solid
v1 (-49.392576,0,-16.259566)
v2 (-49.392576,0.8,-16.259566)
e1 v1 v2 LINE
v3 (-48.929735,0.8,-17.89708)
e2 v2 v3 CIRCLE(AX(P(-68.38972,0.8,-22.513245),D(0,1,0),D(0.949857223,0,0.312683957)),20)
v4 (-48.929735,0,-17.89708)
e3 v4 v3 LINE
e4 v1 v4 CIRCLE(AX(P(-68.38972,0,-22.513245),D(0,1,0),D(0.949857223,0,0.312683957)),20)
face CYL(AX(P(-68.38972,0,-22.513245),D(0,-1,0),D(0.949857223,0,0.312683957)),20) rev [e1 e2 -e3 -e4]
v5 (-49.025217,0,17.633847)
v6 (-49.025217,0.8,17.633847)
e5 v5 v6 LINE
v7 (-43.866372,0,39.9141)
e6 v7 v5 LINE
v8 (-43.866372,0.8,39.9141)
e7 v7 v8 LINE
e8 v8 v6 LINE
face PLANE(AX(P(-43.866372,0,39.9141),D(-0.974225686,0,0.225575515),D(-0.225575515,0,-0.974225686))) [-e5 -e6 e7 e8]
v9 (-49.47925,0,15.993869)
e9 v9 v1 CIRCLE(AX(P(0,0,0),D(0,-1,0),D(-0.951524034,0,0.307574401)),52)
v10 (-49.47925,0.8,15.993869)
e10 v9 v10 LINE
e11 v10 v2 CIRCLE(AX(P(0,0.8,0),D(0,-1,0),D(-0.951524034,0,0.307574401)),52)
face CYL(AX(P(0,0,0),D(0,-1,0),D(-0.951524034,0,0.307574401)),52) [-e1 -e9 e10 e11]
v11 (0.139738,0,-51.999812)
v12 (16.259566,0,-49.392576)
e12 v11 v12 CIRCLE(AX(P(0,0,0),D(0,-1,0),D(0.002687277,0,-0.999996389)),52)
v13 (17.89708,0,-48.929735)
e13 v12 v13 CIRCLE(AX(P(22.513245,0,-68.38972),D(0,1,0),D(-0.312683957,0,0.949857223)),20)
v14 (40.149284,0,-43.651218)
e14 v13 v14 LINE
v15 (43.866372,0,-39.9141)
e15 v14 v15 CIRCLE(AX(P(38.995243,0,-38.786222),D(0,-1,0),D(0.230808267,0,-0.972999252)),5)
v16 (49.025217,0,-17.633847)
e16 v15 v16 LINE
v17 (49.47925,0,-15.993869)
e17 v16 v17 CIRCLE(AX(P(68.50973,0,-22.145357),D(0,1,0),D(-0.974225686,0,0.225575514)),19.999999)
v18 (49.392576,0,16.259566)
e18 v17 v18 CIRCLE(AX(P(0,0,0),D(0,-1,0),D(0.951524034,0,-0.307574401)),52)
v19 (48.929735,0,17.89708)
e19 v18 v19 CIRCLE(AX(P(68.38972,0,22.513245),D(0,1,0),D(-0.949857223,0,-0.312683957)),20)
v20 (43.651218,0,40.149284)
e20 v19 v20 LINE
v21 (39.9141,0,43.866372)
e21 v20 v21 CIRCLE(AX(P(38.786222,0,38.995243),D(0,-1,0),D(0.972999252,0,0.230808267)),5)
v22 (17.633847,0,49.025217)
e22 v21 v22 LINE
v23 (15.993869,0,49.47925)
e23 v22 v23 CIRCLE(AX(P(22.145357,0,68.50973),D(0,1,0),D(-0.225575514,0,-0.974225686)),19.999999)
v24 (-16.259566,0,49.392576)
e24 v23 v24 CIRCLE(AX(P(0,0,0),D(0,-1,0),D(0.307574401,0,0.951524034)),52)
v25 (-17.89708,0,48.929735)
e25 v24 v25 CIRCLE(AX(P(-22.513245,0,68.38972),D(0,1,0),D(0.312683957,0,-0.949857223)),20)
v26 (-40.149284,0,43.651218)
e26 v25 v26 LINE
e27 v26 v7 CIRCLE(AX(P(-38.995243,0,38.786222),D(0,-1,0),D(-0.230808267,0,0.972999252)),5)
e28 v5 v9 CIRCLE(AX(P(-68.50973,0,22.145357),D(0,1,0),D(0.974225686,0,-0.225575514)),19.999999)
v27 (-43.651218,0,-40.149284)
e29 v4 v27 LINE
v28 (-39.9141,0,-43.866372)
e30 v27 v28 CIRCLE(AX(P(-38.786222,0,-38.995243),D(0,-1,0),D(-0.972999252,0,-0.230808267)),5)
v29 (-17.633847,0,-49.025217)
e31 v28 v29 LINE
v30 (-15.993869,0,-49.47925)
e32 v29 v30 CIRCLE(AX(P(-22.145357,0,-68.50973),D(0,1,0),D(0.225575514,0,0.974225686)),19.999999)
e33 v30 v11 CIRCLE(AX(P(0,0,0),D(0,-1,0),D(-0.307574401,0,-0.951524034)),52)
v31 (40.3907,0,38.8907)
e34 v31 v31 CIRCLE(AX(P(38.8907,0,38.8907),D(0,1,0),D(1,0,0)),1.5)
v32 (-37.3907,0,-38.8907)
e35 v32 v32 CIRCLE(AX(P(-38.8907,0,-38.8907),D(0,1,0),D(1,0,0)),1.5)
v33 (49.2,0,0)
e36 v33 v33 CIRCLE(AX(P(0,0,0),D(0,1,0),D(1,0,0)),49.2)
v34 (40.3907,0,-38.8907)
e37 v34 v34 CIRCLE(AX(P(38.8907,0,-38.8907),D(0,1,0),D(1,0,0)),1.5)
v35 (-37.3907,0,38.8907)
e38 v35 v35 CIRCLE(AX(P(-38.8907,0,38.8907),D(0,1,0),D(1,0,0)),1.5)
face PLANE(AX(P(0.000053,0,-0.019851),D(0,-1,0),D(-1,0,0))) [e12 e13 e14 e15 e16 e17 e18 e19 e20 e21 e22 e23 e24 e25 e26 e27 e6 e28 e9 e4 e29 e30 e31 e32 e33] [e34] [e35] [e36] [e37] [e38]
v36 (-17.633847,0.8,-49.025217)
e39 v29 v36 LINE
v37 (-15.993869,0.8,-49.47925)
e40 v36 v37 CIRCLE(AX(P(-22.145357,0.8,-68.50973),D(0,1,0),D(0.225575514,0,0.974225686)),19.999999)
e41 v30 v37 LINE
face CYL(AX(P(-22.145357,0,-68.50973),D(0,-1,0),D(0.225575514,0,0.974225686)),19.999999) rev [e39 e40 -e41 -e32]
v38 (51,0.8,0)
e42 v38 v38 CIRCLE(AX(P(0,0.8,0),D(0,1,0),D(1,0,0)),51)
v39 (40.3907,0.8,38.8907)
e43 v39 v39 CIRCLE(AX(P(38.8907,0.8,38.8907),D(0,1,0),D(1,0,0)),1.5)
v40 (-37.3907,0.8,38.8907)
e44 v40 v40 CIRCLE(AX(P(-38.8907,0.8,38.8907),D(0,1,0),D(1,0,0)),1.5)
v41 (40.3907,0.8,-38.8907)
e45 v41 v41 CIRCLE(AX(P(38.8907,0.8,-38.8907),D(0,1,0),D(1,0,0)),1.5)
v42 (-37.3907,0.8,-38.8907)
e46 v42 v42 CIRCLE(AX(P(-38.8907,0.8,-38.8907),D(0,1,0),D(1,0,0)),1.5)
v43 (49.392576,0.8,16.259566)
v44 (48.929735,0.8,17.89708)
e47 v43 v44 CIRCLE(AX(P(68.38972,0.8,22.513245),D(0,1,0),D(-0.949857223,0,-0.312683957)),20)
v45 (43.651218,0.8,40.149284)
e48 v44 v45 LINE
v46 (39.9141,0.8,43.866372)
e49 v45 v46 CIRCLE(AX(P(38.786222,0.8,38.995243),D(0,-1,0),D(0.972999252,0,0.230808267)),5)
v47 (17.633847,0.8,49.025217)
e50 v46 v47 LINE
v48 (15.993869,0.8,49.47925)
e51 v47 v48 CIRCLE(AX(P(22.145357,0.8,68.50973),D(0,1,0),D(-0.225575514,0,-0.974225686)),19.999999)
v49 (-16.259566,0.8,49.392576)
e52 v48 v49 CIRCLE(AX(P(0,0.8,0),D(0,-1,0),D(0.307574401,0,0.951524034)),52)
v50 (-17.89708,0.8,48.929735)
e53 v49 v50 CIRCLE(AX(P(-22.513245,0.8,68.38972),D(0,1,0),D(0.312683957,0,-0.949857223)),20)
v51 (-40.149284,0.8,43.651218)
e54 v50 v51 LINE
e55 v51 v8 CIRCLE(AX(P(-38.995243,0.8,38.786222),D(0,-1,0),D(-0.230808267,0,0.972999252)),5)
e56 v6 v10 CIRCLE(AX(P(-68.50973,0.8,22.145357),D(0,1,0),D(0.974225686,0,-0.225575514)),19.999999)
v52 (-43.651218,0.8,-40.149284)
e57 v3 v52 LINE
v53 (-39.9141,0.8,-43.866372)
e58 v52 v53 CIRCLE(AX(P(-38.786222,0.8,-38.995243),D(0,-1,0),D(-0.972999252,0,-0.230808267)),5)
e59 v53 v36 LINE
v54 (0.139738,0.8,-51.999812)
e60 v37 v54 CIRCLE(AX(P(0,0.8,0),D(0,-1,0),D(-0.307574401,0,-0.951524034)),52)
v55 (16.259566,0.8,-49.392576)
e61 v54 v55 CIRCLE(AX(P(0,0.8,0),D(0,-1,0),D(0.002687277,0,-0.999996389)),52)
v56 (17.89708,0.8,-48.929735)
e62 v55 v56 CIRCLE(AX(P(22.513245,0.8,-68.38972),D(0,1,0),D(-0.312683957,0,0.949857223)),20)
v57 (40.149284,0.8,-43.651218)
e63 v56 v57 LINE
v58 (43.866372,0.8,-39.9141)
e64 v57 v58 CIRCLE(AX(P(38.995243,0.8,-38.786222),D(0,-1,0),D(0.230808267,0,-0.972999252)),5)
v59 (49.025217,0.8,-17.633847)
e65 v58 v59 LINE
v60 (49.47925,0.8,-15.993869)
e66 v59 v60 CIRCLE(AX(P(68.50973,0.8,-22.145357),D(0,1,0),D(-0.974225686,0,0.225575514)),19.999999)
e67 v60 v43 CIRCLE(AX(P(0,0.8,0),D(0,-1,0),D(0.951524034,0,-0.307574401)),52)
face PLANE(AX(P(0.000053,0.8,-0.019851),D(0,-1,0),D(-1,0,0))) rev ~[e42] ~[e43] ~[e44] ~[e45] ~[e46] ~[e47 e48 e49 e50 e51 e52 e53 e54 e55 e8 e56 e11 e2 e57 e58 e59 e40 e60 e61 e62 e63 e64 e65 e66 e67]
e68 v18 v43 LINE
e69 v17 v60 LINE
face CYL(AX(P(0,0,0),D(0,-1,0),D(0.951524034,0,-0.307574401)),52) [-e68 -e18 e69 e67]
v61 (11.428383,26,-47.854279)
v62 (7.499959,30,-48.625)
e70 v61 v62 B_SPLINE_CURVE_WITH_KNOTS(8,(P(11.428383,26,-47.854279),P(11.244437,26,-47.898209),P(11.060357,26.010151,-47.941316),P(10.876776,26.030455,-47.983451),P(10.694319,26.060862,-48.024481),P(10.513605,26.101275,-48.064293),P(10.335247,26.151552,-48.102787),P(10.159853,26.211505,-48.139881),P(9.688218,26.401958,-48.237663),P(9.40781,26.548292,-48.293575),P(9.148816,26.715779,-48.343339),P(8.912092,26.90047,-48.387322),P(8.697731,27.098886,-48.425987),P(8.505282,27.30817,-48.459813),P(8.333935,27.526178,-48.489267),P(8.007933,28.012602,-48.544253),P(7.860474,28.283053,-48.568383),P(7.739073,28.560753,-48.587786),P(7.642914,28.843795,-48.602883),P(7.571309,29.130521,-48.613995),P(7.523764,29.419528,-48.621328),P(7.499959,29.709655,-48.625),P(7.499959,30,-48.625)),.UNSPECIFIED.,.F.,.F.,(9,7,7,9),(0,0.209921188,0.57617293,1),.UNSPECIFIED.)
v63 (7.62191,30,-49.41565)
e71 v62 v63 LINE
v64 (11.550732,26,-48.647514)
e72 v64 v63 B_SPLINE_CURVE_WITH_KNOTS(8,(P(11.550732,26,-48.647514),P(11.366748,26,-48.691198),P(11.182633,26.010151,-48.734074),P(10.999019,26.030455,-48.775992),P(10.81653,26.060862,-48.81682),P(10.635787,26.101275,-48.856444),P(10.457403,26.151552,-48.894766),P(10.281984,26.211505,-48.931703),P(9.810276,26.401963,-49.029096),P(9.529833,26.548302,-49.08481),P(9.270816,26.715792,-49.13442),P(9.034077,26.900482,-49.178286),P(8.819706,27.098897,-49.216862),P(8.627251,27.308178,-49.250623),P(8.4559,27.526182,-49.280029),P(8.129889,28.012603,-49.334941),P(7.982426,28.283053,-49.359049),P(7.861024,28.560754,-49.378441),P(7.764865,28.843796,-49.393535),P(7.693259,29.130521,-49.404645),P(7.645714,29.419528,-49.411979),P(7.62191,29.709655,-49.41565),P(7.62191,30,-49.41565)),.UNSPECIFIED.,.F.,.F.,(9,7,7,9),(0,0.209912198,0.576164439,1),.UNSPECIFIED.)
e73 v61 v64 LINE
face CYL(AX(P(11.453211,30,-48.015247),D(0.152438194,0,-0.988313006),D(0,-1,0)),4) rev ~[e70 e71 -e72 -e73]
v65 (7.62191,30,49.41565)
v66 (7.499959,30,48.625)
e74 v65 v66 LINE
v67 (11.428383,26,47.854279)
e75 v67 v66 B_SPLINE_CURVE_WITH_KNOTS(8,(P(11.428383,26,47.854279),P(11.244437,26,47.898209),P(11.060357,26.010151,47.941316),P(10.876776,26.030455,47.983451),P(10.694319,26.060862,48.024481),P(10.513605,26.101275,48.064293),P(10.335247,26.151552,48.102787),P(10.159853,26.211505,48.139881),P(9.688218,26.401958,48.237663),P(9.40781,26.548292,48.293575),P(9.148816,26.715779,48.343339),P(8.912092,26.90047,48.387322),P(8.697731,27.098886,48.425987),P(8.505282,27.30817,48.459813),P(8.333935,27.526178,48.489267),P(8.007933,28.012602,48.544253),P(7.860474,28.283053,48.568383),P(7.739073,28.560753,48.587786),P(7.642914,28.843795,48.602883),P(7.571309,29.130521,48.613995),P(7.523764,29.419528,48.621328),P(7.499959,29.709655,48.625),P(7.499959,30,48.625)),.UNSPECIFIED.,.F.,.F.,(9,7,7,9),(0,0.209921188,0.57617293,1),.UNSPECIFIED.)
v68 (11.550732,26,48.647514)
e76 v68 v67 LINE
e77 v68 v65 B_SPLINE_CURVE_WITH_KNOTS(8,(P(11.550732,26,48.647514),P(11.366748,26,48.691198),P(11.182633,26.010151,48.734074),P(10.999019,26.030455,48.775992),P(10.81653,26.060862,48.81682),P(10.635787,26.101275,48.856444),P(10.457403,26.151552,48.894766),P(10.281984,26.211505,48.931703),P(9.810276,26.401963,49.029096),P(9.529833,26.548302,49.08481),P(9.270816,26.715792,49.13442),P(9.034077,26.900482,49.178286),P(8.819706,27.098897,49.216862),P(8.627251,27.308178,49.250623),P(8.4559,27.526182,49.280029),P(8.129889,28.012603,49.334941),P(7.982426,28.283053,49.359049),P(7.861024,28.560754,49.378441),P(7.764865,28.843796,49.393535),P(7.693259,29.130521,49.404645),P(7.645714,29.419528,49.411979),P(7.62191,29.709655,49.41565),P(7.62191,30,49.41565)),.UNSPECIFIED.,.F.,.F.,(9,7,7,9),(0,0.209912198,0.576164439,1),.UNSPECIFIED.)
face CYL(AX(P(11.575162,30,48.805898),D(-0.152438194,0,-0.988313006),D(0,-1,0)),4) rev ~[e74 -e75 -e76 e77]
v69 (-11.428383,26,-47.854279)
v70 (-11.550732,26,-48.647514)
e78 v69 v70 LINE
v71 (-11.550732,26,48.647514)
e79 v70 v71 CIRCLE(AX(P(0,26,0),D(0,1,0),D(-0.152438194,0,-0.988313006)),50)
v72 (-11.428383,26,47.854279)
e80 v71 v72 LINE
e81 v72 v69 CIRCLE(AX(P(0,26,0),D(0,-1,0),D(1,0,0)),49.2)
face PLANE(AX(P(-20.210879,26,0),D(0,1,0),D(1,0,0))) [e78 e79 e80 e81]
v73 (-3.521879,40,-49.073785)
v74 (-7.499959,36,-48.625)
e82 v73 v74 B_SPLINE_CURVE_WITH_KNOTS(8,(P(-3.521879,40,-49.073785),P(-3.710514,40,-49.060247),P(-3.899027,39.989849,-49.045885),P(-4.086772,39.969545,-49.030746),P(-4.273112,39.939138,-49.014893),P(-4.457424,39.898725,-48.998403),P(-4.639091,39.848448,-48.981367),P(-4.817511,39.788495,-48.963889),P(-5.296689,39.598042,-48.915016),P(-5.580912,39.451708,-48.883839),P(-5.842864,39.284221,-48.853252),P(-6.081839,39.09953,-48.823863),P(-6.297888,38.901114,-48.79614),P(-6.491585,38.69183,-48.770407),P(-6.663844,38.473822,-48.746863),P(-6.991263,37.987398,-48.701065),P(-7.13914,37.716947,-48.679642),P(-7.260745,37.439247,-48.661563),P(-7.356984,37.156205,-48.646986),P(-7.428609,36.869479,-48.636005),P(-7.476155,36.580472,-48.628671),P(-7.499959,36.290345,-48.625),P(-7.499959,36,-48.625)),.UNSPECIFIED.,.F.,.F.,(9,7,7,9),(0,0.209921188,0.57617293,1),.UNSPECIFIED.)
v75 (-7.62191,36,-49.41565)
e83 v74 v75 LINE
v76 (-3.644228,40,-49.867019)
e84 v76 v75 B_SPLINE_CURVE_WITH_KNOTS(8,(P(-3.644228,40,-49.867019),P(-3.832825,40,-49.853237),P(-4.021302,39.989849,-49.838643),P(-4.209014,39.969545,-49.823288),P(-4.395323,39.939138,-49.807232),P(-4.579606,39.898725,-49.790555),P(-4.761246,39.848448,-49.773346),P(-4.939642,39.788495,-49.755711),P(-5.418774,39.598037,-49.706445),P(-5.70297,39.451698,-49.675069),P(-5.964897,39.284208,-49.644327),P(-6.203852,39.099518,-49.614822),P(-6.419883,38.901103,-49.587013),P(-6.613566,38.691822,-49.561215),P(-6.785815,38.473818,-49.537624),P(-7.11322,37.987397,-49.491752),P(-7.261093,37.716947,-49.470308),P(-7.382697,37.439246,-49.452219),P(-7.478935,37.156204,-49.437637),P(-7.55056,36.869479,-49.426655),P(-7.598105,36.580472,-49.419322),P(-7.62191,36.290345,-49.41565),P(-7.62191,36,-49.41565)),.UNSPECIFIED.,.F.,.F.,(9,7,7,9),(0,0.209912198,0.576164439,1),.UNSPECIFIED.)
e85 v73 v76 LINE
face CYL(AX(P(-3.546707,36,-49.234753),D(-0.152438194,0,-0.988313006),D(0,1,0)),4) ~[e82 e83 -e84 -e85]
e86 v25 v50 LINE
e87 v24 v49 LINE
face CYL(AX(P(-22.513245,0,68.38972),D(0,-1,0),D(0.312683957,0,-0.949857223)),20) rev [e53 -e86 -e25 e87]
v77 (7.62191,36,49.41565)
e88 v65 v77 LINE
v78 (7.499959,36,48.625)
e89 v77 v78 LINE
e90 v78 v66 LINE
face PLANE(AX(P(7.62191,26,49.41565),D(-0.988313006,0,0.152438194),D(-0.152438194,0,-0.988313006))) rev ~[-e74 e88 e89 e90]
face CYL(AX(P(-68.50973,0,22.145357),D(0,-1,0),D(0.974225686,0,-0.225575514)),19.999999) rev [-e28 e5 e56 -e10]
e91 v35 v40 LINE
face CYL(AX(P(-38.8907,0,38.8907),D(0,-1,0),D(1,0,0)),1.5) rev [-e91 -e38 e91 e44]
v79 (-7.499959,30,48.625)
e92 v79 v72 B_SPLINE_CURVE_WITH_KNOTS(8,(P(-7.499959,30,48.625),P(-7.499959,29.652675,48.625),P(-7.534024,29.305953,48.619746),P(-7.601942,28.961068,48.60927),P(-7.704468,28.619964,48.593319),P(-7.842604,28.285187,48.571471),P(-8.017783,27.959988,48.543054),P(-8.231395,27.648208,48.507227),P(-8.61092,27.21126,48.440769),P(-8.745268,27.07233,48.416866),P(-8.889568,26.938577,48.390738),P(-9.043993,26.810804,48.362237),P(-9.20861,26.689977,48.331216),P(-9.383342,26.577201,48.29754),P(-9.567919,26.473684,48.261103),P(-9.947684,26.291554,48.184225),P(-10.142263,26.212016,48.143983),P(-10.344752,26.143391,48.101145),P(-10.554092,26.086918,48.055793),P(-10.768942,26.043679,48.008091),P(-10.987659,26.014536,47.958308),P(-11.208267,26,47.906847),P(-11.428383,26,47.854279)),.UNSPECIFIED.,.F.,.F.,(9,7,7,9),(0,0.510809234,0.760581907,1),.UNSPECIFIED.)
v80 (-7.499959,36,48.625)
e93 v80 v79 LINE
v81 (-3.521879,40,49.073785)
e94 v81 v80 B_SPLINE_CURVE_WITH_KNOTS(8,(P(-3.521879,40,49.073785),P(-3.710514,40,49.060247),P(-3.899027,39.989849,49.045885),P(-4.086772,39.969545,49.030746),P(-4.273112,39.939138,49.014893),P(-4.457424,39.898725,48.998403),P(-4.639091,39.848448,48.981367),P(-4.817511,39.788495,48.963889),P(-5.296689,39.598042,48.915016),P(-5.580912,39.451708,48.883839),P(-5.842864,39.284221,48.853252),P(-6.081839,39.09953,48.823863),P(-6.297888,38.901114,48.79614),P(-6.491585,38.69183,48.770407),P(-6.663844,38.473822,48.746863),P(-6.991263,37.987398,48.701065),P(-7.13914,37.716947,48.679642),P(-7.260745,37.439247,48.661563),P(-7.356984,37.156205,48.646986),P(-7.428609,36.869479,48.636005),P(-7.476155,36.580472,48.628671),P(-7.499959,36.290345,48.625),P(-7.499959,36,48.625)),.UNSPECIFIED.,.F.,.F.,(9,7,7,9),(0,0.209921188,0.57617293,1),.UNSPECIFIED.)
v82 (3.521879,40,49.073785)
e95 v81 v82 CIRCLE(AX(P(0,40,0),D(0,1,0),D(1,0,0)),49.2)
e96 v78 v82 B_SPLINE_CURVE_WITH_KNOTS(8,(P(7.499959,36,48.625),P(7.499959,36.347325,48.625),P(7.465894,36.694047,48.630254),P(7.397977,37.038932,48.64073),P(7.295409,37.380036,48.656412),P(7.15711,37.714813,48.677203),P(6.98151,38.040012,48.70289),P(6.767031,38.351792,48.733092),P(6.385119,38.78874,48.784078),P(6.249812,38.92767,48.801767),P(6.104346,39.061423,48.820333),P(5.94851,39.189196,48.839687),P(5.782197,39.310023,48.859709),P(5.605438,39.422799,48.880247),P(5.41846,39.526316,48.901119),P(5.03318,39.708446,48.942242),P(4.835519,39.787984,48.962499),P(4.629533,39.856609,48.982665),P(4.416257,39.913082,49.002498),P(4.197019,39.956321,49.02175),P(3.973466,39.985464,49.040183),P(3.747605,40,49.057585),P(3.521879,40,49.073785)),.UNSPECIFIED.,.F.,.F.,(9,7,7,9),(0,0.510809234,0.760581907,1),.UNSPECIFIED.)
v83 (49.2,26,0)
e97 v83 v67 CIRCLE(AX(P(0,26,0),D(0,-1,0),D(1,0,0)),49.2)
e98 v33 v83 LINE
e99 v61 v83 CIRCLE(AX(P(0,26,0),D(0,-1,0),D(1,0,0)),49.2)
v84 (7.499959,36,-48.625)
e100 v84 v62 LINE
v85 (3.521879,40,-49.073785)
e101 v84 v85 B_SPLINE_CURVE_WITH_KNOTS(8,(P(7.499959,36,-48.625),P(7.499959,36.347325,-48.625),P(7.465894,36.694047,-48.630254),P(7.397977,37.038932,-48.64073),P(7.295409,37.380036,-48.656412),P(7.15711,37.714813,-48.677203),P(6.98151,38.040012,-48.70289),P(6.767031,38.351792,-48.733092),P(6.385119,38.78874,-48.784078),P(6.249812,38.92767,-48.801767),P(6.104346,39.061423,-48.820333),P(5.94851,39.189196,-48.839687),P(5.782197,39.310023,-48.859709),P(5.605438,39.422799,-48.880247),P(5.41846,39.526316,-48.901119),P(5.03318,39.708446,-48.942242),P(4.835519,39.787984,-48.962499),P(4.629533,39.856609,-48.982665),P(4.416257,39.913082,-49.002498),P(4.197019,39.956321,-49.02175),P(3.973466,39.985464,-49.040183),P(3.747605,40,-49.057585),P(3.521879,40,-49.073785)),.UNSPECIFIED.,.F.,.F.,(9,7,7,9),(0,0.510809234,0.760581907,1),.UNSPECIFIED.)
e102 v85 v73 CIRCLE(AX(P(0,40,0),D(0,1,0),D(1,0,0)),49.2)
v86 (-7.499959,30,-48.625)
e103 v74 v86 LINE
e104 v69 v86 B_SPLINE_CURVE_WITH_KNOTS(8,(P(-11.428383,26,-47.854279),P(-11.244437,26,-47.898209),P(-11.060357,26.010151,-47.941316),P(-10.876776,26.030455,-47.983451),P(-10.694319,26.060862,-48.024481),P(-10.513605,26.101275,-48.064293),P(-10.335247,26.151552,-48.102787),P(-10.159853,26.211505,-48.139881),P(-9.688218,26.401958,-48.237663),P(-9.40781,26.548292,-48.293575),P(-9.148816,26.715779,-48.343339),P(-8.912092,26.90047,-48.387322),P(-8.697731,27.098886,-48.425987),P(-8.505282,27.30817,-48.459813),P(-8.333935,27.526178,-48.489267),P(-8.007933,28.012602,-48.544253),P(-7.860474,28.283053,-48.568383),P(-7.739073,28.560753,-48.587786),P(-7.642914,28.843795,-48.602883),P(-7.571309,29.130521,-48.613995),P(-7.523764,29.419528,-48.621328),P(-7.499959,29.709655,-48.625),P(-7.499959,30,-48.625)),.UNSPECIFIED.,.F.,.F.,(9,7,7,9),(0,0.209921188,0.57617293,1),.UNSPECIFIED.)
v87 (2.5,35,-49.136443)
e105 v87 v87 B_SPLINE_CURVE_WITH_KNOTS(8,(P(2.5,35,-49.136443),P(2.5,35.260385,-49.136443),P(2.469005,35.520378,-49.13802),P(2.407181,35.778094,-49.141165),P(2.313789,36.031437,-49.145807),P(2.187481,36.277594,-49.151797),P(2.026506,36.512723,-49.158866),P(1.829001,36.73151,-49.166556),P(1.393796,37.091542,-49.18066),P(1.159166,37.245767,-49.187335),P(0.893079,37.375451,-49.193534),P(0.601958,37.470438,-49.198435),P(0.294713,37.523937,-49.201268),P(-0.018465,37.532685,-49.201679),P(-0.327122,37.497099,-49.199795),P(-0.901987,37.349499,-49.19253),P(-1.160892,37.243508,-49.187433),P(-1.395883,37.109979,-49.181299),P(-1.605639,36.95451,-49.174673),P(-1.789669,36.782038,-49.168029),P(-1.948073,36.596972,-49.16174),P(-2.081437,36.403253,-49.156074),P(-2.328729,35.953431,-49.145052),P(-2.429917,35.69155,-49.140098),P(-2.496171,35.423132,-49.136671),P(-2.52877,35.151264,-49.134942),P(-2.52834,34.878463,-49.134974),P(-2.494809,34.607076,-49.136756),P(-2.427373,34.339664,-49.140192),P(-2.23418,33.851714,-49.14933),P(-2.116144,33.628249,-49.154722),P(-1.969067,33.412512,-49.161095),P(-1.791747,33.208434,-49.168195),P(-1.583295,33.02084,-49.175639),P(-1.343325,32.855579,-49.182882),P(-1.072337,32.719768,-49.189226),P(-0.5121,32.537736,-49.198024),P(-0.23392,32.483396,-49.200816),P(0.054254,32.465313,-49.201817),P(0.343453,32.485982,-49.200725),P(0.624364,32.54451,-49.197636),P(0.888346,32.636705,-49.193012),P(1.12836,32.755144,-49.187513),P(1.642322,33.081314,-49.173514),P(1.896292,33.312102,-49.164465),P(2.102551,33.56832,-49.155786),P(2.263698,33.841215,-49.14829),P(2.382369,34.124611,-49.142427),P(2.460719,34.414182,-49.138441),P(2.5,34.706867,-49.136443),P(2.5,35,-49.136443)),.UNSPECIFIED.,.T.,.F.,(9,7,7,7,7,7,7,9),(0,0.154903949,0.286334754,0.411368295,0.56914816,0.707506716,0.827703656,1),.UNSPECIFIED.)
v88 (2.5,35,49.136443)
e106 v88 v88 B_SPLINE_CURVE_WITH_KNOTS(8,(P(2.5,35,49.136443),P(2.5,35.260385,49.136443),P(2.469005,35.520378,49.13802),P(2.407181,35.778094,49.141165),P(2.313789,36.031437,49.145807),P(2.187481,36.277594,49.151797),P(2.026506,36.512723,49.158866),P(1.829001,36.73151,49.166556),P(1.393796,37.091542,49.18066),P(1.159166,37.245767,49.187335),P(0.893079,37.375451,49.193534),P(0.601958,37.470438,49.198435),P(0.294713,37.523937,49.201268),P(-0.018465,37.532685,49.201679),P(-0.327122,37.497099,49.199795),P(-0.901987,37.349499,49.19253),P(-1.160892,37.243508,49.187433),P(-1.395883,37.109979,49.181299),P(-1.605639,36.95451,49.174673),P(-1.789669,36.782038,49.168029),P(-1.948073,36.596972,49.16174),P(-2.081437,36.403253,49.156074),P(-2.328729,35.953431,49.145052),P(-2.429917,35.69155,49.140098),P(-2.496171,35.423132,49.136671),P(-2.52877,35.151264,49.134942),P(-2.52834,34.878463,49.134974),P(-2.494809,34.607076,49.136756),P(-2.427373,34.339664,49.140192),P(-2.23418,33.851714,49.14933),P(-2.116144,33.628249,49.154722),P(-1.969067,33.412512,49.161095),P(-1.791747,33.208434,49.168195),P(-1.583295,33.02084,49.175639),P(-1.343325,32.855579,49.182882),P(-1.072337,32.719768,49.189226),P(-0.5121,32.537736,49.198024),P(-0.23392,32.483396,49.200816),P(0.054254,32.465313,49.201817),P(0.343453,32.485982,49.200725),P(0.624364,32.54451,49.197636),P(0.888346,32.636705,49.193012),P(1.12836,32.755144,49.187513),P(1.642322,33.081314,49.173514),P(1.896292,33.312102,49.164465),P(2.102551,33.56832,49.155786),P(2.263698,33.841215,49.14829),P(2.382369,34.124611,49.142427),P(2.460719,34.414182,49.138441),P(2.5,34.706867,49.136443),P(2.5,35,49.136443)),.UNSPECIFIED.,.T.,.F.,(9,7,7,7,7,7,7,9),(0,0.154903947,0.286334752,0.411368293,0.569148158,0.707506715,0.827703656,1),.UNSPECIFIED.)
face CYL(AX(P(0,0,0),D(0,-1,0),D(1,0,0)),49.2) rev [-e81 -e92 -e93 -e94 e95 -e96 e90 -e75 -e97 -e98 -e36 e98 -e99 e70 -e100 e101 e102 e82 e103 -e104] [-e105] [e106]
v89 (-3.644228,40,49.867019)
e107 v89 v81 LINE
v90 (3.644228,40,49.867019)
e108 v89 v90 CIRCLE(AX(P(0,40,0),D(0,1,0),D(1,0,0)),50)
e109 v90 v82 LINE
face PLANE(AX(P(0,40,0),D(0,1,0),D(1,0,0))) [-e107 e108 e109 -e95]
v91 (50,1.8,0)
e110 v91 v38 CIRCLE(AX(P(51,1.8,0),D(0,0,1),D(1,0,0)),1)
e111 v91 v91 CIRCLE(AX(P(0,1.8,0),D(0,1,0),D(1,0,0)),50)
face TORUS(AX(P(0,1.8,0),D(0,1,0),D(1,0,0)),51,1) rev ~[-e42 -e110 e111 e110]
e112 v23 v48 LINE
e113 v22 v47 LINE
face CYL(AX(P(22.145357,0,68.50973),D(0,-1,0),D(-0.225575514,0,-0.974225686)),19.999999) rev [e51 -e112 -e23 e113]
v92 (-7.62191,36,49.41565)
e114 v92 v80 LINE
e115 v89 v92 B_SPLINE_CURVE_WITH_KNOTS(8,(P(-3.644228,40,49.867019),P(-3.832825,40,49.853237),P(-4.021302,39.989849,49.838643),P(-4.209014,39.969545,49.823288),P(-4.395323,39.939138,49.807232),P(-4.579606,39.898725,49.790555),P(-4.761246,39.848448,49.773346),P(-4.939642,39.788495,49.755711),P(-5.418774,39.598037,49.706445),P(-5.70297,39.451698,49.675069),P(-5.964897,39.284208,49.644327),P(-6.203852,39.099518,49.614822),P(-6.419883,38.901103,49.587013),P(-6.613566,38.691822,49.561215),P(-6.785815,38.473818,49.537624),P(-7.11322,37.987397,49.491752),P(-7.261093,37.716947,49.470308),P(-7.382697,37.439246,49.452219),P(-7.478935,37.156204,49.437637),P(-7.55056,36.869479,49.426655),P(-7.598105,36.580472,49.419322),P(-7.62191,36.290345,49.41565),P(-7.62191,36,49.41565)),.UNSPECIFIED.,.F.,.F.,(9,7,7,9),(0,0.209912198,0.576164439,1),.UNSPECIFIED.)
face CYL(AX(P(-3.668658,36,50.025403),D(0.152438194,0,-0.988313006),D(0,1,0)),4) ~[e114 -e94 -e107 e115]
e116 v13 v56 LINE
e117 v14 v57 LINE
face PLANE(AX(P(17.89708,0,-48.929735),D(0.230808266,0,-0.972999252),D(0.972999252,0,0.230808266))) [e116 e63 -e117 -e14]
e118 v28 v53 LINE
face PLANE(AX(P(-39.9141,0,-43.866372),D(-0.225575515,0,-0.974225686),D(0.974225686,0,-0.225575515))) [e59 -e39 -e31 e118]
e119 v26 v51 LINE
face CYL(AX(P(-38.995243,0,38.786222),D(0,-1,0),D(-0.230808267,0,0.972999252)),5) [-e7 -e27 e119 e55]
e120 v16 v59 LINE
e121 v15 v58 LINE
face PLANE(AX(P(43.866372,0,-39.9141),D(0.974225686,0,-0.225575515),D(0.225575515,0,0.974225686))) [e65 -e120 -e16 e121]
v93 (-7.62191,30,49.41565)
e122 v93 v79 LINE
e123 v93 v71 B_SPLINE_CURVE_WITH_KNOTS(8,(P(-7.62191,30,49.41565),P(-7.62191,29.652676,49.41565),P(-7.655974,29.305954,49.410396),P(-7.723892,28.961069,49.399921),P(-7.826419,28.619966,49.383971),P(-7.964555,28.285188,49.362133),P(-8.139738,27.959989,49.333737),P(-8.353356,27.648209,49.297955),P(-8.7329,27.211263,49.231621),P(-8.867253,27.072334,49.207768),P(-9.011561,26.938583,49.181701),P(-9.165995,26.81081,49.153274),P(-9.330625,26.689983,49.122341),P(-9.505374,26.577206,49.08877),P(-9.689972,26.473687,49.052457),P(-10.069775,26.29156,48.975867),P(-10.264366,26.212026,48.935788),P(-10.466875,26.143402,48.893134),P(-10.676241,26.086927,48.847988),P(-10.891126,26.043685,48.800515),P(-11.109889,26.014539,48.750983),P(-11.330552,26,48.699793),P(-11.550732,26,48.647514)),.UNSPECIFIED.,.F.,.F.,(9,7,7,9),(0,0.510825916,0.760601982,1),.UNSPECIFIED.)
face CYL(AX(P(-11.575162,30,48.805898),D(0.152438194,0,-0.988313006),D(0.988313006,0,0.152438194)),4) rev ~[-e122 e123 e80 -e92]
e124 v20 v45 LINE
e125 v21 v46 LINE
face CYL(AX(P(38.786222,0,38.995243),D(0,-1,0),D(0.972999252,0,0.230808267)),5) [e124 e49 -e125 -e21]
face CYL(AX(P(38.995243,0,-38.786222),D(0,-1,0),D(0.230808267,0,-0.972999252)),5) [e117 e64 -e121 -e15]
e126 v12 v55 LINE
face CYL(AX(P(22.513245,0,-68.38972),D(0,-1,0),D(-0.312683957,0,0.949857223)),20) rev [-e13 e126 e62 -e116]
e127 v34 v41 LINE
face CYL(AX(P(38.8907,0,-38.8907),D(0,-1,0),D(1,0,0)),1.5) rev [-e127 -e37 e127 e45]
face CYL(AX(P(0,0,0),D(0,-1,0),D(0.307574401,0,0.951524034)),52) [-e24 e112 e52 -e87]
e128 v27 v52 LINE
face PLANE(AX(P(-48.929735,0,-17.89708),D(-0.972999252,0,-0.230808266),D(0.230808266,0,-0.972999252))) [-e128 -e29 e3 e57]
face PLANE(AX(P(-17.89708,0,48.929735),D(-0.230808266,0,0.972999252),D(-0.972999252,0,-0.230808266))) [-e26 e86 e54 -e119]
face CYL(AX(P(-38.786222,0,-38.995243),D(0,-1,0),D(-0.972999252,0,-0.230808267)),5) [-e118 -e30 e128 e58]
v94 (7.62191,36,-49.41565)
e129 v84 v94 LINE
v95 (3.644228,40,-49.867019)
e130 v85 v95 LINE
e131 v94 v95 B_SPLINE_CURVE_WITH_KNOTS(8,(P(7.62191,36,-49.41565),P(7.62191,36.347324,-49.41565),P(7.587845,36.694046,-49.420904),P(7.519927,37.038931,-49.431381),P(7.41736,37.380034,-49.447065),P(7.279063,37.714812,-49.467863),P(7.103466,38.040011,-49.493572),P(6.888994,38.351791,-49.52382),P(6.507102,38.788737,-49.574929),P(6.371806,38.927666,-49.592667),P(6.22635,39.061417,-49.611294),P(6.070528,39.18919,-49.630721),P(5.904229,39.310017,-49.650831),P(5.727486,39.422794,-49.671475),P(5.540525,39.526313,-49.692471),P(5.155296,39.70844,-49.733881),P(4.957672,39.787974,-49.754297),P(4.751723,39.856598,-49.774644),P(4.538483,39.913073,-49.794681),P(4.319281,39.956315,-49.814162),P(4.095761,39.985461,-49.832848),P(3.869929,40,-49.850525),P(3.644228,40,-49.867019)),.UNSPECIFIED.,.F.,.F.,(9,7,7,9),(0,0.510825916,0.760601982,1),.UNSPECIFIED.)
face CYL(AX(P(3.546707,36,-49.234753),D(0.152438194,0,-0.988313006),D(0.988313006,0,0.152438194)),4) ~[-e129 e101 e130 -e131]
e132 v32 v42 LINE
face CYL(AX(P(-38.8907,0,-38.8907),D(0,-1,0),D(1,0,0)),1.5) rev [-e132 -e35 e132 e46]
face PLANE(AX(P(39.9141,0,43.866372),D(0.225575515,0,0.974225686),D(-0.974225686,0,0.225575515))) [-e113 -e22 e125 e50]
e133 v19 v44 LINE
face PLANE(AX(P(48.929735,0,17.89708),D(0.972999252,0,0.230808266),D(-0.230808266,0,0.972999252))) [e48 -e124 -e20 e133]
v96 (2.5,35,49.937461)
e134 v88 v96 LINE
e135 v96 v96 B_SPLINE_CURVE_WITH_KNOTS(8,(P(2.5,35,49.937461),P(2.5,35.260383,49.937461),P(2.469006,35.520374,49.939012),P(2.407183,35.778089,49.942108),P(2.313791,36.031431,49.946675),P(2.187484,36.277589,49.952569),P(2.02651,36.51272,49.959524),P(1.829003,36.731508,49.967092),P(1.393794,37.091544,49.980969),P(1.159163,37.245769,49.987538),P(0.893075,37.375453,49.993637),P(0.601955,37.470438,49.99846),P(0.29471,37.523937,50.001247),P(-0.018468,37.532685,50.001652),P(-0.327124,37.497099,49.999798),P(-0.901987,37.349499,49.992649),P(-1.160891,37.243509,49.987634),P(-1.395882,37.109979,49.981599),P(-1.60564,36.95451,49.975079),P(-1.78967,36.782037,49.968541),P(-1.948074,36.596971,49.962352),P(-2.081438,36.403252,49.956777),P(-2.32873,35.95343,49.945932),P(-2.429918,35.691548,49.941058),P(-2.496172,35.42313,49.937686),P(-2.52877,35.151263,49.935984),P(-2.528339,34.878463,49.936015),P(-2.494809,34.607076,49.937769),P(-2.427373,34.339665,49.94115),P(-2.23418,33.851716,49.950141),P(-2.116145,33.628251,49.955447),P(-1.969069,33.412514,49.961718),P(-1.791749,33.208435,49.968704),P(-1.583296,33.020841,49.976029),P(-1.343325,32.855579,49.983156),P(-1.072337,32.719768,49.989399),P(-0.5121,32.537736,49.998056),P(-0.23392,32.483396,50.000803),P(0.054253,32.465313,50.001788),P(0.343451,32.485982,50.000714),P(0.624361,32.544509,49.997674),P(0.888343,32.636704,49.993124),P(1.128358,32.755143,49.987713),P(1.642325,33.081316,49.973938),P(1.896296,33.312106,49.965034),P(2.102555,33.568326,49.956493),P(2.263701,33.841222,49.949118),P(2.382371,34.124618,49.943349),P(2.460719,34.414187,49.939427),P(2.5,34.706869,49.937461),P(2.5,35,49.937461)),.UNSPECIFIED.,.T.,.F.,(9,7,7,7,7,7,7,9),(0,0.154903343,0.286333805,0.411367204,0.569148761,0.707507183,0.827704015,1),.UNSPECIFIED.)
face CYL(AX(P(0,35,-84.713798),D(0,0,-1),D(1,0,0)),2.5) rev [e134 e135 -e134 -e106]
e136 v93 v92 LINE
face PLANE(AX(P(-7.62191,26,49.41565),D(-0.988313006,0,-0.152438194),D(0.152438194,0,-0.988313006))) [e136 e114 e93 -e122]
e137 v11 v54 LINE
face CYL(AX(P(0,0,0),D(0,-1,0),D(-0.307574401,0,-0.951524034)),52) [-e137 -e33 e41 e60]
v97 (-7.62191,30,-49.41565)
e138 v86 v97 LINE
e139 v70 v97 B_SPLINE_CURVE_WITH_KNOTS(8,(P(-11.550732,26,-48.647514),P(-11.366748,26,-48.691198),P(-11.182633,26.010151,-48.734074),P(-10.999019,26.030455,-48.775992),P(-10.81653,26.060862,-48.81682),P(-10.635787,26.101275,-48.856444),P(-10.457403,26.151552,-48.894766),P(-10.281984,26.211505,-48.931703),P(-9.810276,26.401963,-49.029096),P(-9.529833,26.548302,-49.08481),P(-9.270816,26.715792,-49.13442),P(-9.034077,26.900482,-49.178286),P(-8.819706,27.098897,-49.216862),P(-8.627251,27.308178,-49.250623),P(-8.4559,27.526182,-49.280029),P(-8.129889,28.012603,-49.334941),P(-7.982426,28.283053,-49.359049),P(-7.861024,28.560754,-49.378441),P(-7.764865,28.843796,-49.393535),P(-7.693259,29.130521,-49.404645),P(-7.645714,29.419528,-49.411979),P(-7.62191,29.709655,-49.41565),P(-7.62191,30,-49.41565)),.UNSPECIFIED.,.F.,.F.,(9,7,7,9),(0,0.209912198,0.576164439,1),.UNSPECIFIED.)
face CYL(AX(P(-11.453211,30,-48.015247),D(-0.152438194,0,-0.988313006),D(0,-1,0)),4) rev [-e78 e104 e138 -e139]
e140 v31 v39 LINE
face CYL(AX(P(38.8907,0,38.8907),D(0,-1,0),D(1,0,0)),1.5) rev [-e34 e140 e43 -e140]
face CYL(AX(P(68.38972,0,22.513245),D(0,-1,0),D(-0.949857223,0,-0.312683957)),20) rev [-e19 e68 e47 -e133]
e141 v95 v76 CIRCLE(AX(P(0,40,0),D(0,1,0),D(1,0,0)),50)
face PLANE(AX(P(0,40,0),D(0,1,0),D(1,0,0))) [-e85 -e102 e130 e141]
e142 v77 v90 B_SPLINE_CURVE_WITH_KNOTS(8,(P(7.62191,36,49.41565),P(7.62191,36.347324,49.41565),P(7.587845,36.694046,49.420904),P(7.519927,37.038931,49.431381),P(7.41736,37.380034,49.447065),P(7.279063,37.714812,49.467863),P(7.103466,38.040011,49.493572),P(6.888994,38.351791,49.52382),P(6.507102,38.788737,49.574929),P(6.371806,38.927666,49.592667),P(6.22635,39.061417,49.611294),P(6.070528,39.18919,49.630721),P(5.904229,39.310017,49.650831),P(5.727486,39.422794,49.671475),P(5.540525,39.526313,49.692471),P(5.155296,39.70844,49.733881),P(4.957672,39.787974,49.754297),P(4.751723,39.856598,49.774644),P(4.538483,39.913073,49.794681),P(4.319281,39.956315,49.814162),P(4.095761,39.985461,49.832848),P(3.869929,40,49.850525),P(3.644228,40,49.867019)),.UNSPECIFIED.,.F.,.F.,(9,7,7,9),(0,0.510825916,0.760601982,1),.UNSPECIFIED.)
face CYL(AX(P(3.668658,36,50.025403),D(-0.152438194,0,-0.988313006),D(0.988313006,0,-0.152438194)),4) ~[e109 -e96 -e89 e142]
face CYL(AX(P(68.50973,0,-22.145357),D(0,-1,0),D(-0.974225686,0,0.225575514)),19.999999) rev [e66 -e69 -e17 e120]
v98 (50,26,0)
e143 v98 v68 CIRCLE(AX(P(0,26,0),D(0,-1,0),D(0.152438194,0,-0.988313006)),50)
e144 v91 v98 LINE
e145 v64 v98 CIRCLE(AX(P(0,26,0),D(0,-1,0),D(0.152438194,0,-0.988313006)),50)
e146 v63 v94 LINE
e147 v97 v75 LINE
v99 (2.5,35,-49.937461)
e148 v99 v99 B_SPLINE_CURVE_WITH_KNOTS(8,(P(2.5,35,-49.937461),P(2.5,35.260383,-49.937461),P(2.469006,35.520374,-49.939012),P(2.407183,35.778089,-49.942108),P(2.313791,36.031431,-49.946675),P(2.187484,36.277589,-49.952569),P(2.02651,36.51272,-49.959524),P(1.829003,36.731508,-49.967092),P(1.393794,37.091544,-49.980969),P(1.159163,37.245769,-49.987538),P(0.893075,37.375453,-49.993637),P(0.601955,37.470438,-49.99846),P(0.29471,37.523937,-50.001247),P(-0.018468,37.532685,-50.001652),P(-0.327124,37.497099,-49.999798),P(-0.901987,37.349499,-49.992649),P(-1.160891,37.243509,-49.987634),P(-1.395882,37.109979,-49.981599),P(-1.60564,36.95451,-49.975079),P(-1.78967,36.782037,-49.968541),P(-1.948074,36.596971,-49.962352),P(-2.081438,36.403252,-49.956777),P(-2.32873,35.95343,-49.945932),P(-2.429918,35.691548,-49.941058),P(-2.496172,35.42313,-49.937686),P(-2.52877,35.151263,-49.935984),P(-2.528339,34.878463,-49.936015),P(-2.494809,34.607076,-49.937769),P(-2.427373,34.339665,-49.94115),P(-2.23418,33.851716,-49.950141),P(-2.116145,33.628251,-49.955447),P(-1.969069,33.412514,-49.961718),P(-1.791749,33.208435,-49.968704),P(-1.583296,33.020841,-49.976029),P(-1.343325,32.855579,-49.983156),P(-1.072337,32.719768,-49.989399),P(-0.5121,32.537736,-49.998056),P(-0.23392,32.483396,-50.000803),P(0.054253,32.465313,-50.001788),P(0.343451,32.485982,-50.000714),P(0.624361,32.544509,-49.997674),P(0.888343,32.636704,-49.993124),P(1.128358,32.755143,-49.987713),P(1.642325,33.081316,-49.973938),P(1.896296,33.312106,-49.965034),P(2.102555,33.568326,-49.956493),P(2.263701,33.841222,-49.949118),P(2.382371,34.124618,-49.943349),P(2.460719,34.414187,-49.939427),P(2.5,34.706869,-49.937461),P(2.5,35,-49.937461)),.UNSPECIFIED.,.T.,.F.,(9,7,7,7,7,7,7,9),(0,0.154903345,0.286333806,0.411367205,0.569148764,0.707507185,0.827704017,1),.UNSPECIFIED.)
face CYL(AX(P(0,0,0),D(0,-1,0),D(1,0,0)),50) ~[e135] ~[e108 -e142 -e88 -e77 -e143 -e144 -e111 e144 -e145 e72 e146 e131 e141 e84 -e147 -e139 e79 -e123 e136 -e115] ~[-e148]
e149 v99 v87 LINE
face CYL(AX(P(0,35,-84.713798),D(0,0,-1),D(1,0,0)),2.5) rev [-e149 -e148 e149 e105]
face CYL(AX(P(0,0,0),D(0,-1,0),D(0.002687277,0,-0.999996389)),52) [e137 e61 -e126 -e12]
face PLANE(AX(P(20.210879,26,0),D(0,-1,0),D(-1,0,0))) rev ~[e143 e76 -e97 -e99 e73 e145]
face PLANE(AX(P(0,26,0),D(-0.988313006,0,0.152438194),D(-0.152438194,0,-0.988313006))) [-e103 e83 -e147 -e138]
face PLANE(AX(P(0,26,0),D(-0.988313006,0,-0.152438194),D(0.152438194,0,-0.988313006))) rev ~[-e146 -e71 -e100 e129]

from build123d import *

# Parameters (mm, degrees)
SKETCH1_R               = 50
SKETCH1_R_2             = 1.5
BOSS_EXTRUDE1_DEPTH     = 0.8
SKETCH1_4_R             = 50
SKETCH1_4_R_2           = 49.2
BOSS_EXTRUDE3_DEPTH     = 40
FILLET1_R               = 1
CUT_EXTRUDE1_START      = -14
CUT_EXTRUDE1_DEPTH      = 14
CUT_EXTRUDE2_START      = -14
CUT_EXTRUDE2_DEPTH      = 14
FILLET2_R               = 4
FILLET4_R               = 4
CUT_EXTRUDE3_DEPTH      = 84.713798194
CUT_EXTRUDE3_DEPTH_BACK = 84.713798194
SKETCH16_R              = 2.5


with BuildPart() as part:
    # Sketch1 → Boss-Extrude1 (new body)
    with BuildSketch(Plane(origin=(0, 0, 0), x_dir=(1, 0, 0), z_dir=(0, 1, 0))):
        with BuildLine():
            Line((17.897079586, 48.929734976), (40.149284407, 43.651218265))
            ThreePointArc((40.149284407, 43.651218265), (42.540265174, 42.312242187), (43.866371506, 39.91409958))
            Line((43.866371506, 39.91409958), (49.02521675, 17.633846579))
            ThreePointArc((49.02521675, 17.633846579), (49.23478351, 16.809026698), (49.479249782, 15.993868858))
            ThreePointArc((49.479249782, 15.993868858), (51.999812242, -0.139738387), (49.392575566, -16.259565766))
            ThreePointArc((49.392575566, -16.259565766), (49.143731732, -17.073397941), (48.929734976, -17.897079586))
            Line((48.929734976, -17.897079586), (43.651218265, -40.149284407))
            ThreePointArc((43.651218265, -40.149284407), (42.312242187, -42.540265174), (39.91409958, -43.866371506))
            Line((39.91409958, -43.866371506), (17.633846579, -49.02521675))
            ThreePointArc((17.633846579, -49.02521675), (16.809026698, -49.23478351), (15.993868858, -49.479249782))
            ThreePointArc((15.993868858, -49.479249782), (-0.139738387, -51.999812242), (-16.259565766, -49.392575566))
            ThreePointArc((-16.259565766, -49.392575566), (-17.073397941, -49.143731732), (-17.897079586, -48.929734976))
            Line((-17.897079586, -48.929734976), (-40.149284407, -43.651218265))
            ThreePointArc((-40.149284407, -43.651218265), (-42.540265174, -42.312242187), (-43.866371506, -39.91409958))
            Line((-43.866371506, -39.91409958), (-49.02521675, -17.633846579))
            ThreePointArc((-49.02521675, -17.633846579), (-49.23478351, -16.809026698), (-49.479249782, -15.993868858))
            ThreePointArc((-49.479249782, -15.993868858), (-51.999812242, 0.139738387), (-49.392575566, 16.259565766))
            ThreePointArc((-49.392575566, 16.259565766), (-49.143731732, 17.073397941), (-48.929734976, 17.897079586))
            Line((-48.929734976, 17.897079586), (-43.651218265, 40.149284407))
            ThreePointArc((-43.651218265, 40.149284407), (-42.312242187, 42.540265174), (-39.91409958, 43.866371506))
            Line((-39.91409958, 43.866371506), (-17.633846579, 49.02521675))
            ThreePointArc((-17.633846579, 49.02521675), (-16.809026698, 49.23478351), (-15.993868858, 49.479249782))
            ThreePointArc((-15.993868858, 49.479249782), (-8.026622704, 51.3767781), (0.139738387, 51.999812242))
            ThreePointArc((0.139738387, 51.999812242), (8.302633013, 51.332896714), (16.259565766, 49.392575566))
            ThreePointArc((16.259565766, 49.392575566), (17.073397941, 49.143731732), (17.897079586, 48.929734976))
        make_face()
        Circle(SKETCH1_R, mode=Mode.SUBTRACT)
        with Locations((-38.8907, 38.8907)):
            Circle(SKETCH1_R_2, mode=Mode.SUBTRACT)
        with Locations((38.8907, 38.8907)):
            Circle(SKETCH1_R_2, mode=Mode.SUBTRACT)
        with Locations((38.8907, -38.8907)):
            Circle(SKETCH1_R_2, mode=Mode.SUBTRACT)
        with Locations((-38.8907, -38.8907)):
            Circle(SKETCH1_R_2, mode=Mode.SUBTRACT)
    extrude(amount=BOSS_EXTRUDE1_DEPTH)

    # Sketch1<4> → Boss-Extrude3 (add)
    with BuildSketch(Plane(origin=(0, 0, 0), x_dir=(1, 0, 0), z_dir=(0, 1, 0))):
        Circle(SKETCH1_4_R)
        Circle(SKETCH1_4_R_2, mode=Mode.SUBTRACT)
    extrude(amount=BOSS_EXTRUDE3_DEPTH)

    # Fillet1
    fillet1_edges = [part.edges().sort_by_distance(p)[0] for p in [
        (-50, 0.8, 0),
    ]]
    fillet(fillet1_edges, radius=FILLET1_R)

    # Sketch10 → Cut-Extrude1 (cut)
    with BuildSketch(Plane(origin=(0, 40, 0), x_dir=(1, 0, 0), z_dir=(0, 1, 0)).offset(CUT_EXTRUDE1_START)):
        with BuildLine():
            Line((0, 0), (-7.621909697, 49.41565028))
            ThreePointArc((-7.621909697, 49.41565028), (-50, 0), (-7.621909697, -49.41565028))
            Line((-7.621909697, -49.41565028), (0, 0))
        make_face()
    extrude(amount=CUT_EXTRUDE1_DEPTH, mode=Mode.SUBTRACT)

    # Sketch11 → Cut-Extrude2 (cut)
    with BuildSketch(Plane(origin=(0, 40, 0), x_dir=(1, 0, 0), z_dir=(0, 1, 0)).offset(CUT_EXTRUDE2_START)):
        with BuildLine():
            Line((0, 0), (7.621909697, 49.41565028))
            ThreePointArc((7.621909697, 49.41565028), (50, 0), (7.621909697, -49.41565028))
            Line((7.621909697, -49.41565028), (0, 0))
        make_face()
    extrude(amount=CUT_EXTRUDE2_DEPTH, mode=Mode.SUBTRACT)

    # Fillet2
    fillet2_edges = [part.edges().sort_by_distance(p)[0] for p in [
        (-7.560934419, 26, -49.020325078),
        (7.560934419, 26, -49.020325078),
        (7.560934419, 26, 49.020325078),
        (-7.560934419, 26, 49.020325078),
    ]]
    fillet(fillet2_edges, radius=FILLET2_R)

    # Fillet4
    fillet4_edges = [part.edges().sort_by_distance(p)[0] for p in [
        (7.560934419, 40, -49.020325078),
        (-7.560934419, 40, -49.020325078),
        (7.560934419, 40, 49.020325078),
        (-7.560934419, 40, 49.020325078),
    ]]
    fillet(fillet4_edges, radius=FILLET4_R)

    # Sketch16 → Cut-Extrude3 (cut, two sides: drawn at the far end of the back side and taken through both)
    with BuildSketch(Plane.XY.offset(-CUT_EXTRUDE3_DEPTH_BACK)):
        with Locations((0, 35)):
            Circle(SKETCH16_R)
    extrude(amount=CUT_EXTRUDE3_DEPTH + CUT_EXTRUDE3_DEPTH_BACK, mode=Mode.SUBTRACT)


solid = part.part
